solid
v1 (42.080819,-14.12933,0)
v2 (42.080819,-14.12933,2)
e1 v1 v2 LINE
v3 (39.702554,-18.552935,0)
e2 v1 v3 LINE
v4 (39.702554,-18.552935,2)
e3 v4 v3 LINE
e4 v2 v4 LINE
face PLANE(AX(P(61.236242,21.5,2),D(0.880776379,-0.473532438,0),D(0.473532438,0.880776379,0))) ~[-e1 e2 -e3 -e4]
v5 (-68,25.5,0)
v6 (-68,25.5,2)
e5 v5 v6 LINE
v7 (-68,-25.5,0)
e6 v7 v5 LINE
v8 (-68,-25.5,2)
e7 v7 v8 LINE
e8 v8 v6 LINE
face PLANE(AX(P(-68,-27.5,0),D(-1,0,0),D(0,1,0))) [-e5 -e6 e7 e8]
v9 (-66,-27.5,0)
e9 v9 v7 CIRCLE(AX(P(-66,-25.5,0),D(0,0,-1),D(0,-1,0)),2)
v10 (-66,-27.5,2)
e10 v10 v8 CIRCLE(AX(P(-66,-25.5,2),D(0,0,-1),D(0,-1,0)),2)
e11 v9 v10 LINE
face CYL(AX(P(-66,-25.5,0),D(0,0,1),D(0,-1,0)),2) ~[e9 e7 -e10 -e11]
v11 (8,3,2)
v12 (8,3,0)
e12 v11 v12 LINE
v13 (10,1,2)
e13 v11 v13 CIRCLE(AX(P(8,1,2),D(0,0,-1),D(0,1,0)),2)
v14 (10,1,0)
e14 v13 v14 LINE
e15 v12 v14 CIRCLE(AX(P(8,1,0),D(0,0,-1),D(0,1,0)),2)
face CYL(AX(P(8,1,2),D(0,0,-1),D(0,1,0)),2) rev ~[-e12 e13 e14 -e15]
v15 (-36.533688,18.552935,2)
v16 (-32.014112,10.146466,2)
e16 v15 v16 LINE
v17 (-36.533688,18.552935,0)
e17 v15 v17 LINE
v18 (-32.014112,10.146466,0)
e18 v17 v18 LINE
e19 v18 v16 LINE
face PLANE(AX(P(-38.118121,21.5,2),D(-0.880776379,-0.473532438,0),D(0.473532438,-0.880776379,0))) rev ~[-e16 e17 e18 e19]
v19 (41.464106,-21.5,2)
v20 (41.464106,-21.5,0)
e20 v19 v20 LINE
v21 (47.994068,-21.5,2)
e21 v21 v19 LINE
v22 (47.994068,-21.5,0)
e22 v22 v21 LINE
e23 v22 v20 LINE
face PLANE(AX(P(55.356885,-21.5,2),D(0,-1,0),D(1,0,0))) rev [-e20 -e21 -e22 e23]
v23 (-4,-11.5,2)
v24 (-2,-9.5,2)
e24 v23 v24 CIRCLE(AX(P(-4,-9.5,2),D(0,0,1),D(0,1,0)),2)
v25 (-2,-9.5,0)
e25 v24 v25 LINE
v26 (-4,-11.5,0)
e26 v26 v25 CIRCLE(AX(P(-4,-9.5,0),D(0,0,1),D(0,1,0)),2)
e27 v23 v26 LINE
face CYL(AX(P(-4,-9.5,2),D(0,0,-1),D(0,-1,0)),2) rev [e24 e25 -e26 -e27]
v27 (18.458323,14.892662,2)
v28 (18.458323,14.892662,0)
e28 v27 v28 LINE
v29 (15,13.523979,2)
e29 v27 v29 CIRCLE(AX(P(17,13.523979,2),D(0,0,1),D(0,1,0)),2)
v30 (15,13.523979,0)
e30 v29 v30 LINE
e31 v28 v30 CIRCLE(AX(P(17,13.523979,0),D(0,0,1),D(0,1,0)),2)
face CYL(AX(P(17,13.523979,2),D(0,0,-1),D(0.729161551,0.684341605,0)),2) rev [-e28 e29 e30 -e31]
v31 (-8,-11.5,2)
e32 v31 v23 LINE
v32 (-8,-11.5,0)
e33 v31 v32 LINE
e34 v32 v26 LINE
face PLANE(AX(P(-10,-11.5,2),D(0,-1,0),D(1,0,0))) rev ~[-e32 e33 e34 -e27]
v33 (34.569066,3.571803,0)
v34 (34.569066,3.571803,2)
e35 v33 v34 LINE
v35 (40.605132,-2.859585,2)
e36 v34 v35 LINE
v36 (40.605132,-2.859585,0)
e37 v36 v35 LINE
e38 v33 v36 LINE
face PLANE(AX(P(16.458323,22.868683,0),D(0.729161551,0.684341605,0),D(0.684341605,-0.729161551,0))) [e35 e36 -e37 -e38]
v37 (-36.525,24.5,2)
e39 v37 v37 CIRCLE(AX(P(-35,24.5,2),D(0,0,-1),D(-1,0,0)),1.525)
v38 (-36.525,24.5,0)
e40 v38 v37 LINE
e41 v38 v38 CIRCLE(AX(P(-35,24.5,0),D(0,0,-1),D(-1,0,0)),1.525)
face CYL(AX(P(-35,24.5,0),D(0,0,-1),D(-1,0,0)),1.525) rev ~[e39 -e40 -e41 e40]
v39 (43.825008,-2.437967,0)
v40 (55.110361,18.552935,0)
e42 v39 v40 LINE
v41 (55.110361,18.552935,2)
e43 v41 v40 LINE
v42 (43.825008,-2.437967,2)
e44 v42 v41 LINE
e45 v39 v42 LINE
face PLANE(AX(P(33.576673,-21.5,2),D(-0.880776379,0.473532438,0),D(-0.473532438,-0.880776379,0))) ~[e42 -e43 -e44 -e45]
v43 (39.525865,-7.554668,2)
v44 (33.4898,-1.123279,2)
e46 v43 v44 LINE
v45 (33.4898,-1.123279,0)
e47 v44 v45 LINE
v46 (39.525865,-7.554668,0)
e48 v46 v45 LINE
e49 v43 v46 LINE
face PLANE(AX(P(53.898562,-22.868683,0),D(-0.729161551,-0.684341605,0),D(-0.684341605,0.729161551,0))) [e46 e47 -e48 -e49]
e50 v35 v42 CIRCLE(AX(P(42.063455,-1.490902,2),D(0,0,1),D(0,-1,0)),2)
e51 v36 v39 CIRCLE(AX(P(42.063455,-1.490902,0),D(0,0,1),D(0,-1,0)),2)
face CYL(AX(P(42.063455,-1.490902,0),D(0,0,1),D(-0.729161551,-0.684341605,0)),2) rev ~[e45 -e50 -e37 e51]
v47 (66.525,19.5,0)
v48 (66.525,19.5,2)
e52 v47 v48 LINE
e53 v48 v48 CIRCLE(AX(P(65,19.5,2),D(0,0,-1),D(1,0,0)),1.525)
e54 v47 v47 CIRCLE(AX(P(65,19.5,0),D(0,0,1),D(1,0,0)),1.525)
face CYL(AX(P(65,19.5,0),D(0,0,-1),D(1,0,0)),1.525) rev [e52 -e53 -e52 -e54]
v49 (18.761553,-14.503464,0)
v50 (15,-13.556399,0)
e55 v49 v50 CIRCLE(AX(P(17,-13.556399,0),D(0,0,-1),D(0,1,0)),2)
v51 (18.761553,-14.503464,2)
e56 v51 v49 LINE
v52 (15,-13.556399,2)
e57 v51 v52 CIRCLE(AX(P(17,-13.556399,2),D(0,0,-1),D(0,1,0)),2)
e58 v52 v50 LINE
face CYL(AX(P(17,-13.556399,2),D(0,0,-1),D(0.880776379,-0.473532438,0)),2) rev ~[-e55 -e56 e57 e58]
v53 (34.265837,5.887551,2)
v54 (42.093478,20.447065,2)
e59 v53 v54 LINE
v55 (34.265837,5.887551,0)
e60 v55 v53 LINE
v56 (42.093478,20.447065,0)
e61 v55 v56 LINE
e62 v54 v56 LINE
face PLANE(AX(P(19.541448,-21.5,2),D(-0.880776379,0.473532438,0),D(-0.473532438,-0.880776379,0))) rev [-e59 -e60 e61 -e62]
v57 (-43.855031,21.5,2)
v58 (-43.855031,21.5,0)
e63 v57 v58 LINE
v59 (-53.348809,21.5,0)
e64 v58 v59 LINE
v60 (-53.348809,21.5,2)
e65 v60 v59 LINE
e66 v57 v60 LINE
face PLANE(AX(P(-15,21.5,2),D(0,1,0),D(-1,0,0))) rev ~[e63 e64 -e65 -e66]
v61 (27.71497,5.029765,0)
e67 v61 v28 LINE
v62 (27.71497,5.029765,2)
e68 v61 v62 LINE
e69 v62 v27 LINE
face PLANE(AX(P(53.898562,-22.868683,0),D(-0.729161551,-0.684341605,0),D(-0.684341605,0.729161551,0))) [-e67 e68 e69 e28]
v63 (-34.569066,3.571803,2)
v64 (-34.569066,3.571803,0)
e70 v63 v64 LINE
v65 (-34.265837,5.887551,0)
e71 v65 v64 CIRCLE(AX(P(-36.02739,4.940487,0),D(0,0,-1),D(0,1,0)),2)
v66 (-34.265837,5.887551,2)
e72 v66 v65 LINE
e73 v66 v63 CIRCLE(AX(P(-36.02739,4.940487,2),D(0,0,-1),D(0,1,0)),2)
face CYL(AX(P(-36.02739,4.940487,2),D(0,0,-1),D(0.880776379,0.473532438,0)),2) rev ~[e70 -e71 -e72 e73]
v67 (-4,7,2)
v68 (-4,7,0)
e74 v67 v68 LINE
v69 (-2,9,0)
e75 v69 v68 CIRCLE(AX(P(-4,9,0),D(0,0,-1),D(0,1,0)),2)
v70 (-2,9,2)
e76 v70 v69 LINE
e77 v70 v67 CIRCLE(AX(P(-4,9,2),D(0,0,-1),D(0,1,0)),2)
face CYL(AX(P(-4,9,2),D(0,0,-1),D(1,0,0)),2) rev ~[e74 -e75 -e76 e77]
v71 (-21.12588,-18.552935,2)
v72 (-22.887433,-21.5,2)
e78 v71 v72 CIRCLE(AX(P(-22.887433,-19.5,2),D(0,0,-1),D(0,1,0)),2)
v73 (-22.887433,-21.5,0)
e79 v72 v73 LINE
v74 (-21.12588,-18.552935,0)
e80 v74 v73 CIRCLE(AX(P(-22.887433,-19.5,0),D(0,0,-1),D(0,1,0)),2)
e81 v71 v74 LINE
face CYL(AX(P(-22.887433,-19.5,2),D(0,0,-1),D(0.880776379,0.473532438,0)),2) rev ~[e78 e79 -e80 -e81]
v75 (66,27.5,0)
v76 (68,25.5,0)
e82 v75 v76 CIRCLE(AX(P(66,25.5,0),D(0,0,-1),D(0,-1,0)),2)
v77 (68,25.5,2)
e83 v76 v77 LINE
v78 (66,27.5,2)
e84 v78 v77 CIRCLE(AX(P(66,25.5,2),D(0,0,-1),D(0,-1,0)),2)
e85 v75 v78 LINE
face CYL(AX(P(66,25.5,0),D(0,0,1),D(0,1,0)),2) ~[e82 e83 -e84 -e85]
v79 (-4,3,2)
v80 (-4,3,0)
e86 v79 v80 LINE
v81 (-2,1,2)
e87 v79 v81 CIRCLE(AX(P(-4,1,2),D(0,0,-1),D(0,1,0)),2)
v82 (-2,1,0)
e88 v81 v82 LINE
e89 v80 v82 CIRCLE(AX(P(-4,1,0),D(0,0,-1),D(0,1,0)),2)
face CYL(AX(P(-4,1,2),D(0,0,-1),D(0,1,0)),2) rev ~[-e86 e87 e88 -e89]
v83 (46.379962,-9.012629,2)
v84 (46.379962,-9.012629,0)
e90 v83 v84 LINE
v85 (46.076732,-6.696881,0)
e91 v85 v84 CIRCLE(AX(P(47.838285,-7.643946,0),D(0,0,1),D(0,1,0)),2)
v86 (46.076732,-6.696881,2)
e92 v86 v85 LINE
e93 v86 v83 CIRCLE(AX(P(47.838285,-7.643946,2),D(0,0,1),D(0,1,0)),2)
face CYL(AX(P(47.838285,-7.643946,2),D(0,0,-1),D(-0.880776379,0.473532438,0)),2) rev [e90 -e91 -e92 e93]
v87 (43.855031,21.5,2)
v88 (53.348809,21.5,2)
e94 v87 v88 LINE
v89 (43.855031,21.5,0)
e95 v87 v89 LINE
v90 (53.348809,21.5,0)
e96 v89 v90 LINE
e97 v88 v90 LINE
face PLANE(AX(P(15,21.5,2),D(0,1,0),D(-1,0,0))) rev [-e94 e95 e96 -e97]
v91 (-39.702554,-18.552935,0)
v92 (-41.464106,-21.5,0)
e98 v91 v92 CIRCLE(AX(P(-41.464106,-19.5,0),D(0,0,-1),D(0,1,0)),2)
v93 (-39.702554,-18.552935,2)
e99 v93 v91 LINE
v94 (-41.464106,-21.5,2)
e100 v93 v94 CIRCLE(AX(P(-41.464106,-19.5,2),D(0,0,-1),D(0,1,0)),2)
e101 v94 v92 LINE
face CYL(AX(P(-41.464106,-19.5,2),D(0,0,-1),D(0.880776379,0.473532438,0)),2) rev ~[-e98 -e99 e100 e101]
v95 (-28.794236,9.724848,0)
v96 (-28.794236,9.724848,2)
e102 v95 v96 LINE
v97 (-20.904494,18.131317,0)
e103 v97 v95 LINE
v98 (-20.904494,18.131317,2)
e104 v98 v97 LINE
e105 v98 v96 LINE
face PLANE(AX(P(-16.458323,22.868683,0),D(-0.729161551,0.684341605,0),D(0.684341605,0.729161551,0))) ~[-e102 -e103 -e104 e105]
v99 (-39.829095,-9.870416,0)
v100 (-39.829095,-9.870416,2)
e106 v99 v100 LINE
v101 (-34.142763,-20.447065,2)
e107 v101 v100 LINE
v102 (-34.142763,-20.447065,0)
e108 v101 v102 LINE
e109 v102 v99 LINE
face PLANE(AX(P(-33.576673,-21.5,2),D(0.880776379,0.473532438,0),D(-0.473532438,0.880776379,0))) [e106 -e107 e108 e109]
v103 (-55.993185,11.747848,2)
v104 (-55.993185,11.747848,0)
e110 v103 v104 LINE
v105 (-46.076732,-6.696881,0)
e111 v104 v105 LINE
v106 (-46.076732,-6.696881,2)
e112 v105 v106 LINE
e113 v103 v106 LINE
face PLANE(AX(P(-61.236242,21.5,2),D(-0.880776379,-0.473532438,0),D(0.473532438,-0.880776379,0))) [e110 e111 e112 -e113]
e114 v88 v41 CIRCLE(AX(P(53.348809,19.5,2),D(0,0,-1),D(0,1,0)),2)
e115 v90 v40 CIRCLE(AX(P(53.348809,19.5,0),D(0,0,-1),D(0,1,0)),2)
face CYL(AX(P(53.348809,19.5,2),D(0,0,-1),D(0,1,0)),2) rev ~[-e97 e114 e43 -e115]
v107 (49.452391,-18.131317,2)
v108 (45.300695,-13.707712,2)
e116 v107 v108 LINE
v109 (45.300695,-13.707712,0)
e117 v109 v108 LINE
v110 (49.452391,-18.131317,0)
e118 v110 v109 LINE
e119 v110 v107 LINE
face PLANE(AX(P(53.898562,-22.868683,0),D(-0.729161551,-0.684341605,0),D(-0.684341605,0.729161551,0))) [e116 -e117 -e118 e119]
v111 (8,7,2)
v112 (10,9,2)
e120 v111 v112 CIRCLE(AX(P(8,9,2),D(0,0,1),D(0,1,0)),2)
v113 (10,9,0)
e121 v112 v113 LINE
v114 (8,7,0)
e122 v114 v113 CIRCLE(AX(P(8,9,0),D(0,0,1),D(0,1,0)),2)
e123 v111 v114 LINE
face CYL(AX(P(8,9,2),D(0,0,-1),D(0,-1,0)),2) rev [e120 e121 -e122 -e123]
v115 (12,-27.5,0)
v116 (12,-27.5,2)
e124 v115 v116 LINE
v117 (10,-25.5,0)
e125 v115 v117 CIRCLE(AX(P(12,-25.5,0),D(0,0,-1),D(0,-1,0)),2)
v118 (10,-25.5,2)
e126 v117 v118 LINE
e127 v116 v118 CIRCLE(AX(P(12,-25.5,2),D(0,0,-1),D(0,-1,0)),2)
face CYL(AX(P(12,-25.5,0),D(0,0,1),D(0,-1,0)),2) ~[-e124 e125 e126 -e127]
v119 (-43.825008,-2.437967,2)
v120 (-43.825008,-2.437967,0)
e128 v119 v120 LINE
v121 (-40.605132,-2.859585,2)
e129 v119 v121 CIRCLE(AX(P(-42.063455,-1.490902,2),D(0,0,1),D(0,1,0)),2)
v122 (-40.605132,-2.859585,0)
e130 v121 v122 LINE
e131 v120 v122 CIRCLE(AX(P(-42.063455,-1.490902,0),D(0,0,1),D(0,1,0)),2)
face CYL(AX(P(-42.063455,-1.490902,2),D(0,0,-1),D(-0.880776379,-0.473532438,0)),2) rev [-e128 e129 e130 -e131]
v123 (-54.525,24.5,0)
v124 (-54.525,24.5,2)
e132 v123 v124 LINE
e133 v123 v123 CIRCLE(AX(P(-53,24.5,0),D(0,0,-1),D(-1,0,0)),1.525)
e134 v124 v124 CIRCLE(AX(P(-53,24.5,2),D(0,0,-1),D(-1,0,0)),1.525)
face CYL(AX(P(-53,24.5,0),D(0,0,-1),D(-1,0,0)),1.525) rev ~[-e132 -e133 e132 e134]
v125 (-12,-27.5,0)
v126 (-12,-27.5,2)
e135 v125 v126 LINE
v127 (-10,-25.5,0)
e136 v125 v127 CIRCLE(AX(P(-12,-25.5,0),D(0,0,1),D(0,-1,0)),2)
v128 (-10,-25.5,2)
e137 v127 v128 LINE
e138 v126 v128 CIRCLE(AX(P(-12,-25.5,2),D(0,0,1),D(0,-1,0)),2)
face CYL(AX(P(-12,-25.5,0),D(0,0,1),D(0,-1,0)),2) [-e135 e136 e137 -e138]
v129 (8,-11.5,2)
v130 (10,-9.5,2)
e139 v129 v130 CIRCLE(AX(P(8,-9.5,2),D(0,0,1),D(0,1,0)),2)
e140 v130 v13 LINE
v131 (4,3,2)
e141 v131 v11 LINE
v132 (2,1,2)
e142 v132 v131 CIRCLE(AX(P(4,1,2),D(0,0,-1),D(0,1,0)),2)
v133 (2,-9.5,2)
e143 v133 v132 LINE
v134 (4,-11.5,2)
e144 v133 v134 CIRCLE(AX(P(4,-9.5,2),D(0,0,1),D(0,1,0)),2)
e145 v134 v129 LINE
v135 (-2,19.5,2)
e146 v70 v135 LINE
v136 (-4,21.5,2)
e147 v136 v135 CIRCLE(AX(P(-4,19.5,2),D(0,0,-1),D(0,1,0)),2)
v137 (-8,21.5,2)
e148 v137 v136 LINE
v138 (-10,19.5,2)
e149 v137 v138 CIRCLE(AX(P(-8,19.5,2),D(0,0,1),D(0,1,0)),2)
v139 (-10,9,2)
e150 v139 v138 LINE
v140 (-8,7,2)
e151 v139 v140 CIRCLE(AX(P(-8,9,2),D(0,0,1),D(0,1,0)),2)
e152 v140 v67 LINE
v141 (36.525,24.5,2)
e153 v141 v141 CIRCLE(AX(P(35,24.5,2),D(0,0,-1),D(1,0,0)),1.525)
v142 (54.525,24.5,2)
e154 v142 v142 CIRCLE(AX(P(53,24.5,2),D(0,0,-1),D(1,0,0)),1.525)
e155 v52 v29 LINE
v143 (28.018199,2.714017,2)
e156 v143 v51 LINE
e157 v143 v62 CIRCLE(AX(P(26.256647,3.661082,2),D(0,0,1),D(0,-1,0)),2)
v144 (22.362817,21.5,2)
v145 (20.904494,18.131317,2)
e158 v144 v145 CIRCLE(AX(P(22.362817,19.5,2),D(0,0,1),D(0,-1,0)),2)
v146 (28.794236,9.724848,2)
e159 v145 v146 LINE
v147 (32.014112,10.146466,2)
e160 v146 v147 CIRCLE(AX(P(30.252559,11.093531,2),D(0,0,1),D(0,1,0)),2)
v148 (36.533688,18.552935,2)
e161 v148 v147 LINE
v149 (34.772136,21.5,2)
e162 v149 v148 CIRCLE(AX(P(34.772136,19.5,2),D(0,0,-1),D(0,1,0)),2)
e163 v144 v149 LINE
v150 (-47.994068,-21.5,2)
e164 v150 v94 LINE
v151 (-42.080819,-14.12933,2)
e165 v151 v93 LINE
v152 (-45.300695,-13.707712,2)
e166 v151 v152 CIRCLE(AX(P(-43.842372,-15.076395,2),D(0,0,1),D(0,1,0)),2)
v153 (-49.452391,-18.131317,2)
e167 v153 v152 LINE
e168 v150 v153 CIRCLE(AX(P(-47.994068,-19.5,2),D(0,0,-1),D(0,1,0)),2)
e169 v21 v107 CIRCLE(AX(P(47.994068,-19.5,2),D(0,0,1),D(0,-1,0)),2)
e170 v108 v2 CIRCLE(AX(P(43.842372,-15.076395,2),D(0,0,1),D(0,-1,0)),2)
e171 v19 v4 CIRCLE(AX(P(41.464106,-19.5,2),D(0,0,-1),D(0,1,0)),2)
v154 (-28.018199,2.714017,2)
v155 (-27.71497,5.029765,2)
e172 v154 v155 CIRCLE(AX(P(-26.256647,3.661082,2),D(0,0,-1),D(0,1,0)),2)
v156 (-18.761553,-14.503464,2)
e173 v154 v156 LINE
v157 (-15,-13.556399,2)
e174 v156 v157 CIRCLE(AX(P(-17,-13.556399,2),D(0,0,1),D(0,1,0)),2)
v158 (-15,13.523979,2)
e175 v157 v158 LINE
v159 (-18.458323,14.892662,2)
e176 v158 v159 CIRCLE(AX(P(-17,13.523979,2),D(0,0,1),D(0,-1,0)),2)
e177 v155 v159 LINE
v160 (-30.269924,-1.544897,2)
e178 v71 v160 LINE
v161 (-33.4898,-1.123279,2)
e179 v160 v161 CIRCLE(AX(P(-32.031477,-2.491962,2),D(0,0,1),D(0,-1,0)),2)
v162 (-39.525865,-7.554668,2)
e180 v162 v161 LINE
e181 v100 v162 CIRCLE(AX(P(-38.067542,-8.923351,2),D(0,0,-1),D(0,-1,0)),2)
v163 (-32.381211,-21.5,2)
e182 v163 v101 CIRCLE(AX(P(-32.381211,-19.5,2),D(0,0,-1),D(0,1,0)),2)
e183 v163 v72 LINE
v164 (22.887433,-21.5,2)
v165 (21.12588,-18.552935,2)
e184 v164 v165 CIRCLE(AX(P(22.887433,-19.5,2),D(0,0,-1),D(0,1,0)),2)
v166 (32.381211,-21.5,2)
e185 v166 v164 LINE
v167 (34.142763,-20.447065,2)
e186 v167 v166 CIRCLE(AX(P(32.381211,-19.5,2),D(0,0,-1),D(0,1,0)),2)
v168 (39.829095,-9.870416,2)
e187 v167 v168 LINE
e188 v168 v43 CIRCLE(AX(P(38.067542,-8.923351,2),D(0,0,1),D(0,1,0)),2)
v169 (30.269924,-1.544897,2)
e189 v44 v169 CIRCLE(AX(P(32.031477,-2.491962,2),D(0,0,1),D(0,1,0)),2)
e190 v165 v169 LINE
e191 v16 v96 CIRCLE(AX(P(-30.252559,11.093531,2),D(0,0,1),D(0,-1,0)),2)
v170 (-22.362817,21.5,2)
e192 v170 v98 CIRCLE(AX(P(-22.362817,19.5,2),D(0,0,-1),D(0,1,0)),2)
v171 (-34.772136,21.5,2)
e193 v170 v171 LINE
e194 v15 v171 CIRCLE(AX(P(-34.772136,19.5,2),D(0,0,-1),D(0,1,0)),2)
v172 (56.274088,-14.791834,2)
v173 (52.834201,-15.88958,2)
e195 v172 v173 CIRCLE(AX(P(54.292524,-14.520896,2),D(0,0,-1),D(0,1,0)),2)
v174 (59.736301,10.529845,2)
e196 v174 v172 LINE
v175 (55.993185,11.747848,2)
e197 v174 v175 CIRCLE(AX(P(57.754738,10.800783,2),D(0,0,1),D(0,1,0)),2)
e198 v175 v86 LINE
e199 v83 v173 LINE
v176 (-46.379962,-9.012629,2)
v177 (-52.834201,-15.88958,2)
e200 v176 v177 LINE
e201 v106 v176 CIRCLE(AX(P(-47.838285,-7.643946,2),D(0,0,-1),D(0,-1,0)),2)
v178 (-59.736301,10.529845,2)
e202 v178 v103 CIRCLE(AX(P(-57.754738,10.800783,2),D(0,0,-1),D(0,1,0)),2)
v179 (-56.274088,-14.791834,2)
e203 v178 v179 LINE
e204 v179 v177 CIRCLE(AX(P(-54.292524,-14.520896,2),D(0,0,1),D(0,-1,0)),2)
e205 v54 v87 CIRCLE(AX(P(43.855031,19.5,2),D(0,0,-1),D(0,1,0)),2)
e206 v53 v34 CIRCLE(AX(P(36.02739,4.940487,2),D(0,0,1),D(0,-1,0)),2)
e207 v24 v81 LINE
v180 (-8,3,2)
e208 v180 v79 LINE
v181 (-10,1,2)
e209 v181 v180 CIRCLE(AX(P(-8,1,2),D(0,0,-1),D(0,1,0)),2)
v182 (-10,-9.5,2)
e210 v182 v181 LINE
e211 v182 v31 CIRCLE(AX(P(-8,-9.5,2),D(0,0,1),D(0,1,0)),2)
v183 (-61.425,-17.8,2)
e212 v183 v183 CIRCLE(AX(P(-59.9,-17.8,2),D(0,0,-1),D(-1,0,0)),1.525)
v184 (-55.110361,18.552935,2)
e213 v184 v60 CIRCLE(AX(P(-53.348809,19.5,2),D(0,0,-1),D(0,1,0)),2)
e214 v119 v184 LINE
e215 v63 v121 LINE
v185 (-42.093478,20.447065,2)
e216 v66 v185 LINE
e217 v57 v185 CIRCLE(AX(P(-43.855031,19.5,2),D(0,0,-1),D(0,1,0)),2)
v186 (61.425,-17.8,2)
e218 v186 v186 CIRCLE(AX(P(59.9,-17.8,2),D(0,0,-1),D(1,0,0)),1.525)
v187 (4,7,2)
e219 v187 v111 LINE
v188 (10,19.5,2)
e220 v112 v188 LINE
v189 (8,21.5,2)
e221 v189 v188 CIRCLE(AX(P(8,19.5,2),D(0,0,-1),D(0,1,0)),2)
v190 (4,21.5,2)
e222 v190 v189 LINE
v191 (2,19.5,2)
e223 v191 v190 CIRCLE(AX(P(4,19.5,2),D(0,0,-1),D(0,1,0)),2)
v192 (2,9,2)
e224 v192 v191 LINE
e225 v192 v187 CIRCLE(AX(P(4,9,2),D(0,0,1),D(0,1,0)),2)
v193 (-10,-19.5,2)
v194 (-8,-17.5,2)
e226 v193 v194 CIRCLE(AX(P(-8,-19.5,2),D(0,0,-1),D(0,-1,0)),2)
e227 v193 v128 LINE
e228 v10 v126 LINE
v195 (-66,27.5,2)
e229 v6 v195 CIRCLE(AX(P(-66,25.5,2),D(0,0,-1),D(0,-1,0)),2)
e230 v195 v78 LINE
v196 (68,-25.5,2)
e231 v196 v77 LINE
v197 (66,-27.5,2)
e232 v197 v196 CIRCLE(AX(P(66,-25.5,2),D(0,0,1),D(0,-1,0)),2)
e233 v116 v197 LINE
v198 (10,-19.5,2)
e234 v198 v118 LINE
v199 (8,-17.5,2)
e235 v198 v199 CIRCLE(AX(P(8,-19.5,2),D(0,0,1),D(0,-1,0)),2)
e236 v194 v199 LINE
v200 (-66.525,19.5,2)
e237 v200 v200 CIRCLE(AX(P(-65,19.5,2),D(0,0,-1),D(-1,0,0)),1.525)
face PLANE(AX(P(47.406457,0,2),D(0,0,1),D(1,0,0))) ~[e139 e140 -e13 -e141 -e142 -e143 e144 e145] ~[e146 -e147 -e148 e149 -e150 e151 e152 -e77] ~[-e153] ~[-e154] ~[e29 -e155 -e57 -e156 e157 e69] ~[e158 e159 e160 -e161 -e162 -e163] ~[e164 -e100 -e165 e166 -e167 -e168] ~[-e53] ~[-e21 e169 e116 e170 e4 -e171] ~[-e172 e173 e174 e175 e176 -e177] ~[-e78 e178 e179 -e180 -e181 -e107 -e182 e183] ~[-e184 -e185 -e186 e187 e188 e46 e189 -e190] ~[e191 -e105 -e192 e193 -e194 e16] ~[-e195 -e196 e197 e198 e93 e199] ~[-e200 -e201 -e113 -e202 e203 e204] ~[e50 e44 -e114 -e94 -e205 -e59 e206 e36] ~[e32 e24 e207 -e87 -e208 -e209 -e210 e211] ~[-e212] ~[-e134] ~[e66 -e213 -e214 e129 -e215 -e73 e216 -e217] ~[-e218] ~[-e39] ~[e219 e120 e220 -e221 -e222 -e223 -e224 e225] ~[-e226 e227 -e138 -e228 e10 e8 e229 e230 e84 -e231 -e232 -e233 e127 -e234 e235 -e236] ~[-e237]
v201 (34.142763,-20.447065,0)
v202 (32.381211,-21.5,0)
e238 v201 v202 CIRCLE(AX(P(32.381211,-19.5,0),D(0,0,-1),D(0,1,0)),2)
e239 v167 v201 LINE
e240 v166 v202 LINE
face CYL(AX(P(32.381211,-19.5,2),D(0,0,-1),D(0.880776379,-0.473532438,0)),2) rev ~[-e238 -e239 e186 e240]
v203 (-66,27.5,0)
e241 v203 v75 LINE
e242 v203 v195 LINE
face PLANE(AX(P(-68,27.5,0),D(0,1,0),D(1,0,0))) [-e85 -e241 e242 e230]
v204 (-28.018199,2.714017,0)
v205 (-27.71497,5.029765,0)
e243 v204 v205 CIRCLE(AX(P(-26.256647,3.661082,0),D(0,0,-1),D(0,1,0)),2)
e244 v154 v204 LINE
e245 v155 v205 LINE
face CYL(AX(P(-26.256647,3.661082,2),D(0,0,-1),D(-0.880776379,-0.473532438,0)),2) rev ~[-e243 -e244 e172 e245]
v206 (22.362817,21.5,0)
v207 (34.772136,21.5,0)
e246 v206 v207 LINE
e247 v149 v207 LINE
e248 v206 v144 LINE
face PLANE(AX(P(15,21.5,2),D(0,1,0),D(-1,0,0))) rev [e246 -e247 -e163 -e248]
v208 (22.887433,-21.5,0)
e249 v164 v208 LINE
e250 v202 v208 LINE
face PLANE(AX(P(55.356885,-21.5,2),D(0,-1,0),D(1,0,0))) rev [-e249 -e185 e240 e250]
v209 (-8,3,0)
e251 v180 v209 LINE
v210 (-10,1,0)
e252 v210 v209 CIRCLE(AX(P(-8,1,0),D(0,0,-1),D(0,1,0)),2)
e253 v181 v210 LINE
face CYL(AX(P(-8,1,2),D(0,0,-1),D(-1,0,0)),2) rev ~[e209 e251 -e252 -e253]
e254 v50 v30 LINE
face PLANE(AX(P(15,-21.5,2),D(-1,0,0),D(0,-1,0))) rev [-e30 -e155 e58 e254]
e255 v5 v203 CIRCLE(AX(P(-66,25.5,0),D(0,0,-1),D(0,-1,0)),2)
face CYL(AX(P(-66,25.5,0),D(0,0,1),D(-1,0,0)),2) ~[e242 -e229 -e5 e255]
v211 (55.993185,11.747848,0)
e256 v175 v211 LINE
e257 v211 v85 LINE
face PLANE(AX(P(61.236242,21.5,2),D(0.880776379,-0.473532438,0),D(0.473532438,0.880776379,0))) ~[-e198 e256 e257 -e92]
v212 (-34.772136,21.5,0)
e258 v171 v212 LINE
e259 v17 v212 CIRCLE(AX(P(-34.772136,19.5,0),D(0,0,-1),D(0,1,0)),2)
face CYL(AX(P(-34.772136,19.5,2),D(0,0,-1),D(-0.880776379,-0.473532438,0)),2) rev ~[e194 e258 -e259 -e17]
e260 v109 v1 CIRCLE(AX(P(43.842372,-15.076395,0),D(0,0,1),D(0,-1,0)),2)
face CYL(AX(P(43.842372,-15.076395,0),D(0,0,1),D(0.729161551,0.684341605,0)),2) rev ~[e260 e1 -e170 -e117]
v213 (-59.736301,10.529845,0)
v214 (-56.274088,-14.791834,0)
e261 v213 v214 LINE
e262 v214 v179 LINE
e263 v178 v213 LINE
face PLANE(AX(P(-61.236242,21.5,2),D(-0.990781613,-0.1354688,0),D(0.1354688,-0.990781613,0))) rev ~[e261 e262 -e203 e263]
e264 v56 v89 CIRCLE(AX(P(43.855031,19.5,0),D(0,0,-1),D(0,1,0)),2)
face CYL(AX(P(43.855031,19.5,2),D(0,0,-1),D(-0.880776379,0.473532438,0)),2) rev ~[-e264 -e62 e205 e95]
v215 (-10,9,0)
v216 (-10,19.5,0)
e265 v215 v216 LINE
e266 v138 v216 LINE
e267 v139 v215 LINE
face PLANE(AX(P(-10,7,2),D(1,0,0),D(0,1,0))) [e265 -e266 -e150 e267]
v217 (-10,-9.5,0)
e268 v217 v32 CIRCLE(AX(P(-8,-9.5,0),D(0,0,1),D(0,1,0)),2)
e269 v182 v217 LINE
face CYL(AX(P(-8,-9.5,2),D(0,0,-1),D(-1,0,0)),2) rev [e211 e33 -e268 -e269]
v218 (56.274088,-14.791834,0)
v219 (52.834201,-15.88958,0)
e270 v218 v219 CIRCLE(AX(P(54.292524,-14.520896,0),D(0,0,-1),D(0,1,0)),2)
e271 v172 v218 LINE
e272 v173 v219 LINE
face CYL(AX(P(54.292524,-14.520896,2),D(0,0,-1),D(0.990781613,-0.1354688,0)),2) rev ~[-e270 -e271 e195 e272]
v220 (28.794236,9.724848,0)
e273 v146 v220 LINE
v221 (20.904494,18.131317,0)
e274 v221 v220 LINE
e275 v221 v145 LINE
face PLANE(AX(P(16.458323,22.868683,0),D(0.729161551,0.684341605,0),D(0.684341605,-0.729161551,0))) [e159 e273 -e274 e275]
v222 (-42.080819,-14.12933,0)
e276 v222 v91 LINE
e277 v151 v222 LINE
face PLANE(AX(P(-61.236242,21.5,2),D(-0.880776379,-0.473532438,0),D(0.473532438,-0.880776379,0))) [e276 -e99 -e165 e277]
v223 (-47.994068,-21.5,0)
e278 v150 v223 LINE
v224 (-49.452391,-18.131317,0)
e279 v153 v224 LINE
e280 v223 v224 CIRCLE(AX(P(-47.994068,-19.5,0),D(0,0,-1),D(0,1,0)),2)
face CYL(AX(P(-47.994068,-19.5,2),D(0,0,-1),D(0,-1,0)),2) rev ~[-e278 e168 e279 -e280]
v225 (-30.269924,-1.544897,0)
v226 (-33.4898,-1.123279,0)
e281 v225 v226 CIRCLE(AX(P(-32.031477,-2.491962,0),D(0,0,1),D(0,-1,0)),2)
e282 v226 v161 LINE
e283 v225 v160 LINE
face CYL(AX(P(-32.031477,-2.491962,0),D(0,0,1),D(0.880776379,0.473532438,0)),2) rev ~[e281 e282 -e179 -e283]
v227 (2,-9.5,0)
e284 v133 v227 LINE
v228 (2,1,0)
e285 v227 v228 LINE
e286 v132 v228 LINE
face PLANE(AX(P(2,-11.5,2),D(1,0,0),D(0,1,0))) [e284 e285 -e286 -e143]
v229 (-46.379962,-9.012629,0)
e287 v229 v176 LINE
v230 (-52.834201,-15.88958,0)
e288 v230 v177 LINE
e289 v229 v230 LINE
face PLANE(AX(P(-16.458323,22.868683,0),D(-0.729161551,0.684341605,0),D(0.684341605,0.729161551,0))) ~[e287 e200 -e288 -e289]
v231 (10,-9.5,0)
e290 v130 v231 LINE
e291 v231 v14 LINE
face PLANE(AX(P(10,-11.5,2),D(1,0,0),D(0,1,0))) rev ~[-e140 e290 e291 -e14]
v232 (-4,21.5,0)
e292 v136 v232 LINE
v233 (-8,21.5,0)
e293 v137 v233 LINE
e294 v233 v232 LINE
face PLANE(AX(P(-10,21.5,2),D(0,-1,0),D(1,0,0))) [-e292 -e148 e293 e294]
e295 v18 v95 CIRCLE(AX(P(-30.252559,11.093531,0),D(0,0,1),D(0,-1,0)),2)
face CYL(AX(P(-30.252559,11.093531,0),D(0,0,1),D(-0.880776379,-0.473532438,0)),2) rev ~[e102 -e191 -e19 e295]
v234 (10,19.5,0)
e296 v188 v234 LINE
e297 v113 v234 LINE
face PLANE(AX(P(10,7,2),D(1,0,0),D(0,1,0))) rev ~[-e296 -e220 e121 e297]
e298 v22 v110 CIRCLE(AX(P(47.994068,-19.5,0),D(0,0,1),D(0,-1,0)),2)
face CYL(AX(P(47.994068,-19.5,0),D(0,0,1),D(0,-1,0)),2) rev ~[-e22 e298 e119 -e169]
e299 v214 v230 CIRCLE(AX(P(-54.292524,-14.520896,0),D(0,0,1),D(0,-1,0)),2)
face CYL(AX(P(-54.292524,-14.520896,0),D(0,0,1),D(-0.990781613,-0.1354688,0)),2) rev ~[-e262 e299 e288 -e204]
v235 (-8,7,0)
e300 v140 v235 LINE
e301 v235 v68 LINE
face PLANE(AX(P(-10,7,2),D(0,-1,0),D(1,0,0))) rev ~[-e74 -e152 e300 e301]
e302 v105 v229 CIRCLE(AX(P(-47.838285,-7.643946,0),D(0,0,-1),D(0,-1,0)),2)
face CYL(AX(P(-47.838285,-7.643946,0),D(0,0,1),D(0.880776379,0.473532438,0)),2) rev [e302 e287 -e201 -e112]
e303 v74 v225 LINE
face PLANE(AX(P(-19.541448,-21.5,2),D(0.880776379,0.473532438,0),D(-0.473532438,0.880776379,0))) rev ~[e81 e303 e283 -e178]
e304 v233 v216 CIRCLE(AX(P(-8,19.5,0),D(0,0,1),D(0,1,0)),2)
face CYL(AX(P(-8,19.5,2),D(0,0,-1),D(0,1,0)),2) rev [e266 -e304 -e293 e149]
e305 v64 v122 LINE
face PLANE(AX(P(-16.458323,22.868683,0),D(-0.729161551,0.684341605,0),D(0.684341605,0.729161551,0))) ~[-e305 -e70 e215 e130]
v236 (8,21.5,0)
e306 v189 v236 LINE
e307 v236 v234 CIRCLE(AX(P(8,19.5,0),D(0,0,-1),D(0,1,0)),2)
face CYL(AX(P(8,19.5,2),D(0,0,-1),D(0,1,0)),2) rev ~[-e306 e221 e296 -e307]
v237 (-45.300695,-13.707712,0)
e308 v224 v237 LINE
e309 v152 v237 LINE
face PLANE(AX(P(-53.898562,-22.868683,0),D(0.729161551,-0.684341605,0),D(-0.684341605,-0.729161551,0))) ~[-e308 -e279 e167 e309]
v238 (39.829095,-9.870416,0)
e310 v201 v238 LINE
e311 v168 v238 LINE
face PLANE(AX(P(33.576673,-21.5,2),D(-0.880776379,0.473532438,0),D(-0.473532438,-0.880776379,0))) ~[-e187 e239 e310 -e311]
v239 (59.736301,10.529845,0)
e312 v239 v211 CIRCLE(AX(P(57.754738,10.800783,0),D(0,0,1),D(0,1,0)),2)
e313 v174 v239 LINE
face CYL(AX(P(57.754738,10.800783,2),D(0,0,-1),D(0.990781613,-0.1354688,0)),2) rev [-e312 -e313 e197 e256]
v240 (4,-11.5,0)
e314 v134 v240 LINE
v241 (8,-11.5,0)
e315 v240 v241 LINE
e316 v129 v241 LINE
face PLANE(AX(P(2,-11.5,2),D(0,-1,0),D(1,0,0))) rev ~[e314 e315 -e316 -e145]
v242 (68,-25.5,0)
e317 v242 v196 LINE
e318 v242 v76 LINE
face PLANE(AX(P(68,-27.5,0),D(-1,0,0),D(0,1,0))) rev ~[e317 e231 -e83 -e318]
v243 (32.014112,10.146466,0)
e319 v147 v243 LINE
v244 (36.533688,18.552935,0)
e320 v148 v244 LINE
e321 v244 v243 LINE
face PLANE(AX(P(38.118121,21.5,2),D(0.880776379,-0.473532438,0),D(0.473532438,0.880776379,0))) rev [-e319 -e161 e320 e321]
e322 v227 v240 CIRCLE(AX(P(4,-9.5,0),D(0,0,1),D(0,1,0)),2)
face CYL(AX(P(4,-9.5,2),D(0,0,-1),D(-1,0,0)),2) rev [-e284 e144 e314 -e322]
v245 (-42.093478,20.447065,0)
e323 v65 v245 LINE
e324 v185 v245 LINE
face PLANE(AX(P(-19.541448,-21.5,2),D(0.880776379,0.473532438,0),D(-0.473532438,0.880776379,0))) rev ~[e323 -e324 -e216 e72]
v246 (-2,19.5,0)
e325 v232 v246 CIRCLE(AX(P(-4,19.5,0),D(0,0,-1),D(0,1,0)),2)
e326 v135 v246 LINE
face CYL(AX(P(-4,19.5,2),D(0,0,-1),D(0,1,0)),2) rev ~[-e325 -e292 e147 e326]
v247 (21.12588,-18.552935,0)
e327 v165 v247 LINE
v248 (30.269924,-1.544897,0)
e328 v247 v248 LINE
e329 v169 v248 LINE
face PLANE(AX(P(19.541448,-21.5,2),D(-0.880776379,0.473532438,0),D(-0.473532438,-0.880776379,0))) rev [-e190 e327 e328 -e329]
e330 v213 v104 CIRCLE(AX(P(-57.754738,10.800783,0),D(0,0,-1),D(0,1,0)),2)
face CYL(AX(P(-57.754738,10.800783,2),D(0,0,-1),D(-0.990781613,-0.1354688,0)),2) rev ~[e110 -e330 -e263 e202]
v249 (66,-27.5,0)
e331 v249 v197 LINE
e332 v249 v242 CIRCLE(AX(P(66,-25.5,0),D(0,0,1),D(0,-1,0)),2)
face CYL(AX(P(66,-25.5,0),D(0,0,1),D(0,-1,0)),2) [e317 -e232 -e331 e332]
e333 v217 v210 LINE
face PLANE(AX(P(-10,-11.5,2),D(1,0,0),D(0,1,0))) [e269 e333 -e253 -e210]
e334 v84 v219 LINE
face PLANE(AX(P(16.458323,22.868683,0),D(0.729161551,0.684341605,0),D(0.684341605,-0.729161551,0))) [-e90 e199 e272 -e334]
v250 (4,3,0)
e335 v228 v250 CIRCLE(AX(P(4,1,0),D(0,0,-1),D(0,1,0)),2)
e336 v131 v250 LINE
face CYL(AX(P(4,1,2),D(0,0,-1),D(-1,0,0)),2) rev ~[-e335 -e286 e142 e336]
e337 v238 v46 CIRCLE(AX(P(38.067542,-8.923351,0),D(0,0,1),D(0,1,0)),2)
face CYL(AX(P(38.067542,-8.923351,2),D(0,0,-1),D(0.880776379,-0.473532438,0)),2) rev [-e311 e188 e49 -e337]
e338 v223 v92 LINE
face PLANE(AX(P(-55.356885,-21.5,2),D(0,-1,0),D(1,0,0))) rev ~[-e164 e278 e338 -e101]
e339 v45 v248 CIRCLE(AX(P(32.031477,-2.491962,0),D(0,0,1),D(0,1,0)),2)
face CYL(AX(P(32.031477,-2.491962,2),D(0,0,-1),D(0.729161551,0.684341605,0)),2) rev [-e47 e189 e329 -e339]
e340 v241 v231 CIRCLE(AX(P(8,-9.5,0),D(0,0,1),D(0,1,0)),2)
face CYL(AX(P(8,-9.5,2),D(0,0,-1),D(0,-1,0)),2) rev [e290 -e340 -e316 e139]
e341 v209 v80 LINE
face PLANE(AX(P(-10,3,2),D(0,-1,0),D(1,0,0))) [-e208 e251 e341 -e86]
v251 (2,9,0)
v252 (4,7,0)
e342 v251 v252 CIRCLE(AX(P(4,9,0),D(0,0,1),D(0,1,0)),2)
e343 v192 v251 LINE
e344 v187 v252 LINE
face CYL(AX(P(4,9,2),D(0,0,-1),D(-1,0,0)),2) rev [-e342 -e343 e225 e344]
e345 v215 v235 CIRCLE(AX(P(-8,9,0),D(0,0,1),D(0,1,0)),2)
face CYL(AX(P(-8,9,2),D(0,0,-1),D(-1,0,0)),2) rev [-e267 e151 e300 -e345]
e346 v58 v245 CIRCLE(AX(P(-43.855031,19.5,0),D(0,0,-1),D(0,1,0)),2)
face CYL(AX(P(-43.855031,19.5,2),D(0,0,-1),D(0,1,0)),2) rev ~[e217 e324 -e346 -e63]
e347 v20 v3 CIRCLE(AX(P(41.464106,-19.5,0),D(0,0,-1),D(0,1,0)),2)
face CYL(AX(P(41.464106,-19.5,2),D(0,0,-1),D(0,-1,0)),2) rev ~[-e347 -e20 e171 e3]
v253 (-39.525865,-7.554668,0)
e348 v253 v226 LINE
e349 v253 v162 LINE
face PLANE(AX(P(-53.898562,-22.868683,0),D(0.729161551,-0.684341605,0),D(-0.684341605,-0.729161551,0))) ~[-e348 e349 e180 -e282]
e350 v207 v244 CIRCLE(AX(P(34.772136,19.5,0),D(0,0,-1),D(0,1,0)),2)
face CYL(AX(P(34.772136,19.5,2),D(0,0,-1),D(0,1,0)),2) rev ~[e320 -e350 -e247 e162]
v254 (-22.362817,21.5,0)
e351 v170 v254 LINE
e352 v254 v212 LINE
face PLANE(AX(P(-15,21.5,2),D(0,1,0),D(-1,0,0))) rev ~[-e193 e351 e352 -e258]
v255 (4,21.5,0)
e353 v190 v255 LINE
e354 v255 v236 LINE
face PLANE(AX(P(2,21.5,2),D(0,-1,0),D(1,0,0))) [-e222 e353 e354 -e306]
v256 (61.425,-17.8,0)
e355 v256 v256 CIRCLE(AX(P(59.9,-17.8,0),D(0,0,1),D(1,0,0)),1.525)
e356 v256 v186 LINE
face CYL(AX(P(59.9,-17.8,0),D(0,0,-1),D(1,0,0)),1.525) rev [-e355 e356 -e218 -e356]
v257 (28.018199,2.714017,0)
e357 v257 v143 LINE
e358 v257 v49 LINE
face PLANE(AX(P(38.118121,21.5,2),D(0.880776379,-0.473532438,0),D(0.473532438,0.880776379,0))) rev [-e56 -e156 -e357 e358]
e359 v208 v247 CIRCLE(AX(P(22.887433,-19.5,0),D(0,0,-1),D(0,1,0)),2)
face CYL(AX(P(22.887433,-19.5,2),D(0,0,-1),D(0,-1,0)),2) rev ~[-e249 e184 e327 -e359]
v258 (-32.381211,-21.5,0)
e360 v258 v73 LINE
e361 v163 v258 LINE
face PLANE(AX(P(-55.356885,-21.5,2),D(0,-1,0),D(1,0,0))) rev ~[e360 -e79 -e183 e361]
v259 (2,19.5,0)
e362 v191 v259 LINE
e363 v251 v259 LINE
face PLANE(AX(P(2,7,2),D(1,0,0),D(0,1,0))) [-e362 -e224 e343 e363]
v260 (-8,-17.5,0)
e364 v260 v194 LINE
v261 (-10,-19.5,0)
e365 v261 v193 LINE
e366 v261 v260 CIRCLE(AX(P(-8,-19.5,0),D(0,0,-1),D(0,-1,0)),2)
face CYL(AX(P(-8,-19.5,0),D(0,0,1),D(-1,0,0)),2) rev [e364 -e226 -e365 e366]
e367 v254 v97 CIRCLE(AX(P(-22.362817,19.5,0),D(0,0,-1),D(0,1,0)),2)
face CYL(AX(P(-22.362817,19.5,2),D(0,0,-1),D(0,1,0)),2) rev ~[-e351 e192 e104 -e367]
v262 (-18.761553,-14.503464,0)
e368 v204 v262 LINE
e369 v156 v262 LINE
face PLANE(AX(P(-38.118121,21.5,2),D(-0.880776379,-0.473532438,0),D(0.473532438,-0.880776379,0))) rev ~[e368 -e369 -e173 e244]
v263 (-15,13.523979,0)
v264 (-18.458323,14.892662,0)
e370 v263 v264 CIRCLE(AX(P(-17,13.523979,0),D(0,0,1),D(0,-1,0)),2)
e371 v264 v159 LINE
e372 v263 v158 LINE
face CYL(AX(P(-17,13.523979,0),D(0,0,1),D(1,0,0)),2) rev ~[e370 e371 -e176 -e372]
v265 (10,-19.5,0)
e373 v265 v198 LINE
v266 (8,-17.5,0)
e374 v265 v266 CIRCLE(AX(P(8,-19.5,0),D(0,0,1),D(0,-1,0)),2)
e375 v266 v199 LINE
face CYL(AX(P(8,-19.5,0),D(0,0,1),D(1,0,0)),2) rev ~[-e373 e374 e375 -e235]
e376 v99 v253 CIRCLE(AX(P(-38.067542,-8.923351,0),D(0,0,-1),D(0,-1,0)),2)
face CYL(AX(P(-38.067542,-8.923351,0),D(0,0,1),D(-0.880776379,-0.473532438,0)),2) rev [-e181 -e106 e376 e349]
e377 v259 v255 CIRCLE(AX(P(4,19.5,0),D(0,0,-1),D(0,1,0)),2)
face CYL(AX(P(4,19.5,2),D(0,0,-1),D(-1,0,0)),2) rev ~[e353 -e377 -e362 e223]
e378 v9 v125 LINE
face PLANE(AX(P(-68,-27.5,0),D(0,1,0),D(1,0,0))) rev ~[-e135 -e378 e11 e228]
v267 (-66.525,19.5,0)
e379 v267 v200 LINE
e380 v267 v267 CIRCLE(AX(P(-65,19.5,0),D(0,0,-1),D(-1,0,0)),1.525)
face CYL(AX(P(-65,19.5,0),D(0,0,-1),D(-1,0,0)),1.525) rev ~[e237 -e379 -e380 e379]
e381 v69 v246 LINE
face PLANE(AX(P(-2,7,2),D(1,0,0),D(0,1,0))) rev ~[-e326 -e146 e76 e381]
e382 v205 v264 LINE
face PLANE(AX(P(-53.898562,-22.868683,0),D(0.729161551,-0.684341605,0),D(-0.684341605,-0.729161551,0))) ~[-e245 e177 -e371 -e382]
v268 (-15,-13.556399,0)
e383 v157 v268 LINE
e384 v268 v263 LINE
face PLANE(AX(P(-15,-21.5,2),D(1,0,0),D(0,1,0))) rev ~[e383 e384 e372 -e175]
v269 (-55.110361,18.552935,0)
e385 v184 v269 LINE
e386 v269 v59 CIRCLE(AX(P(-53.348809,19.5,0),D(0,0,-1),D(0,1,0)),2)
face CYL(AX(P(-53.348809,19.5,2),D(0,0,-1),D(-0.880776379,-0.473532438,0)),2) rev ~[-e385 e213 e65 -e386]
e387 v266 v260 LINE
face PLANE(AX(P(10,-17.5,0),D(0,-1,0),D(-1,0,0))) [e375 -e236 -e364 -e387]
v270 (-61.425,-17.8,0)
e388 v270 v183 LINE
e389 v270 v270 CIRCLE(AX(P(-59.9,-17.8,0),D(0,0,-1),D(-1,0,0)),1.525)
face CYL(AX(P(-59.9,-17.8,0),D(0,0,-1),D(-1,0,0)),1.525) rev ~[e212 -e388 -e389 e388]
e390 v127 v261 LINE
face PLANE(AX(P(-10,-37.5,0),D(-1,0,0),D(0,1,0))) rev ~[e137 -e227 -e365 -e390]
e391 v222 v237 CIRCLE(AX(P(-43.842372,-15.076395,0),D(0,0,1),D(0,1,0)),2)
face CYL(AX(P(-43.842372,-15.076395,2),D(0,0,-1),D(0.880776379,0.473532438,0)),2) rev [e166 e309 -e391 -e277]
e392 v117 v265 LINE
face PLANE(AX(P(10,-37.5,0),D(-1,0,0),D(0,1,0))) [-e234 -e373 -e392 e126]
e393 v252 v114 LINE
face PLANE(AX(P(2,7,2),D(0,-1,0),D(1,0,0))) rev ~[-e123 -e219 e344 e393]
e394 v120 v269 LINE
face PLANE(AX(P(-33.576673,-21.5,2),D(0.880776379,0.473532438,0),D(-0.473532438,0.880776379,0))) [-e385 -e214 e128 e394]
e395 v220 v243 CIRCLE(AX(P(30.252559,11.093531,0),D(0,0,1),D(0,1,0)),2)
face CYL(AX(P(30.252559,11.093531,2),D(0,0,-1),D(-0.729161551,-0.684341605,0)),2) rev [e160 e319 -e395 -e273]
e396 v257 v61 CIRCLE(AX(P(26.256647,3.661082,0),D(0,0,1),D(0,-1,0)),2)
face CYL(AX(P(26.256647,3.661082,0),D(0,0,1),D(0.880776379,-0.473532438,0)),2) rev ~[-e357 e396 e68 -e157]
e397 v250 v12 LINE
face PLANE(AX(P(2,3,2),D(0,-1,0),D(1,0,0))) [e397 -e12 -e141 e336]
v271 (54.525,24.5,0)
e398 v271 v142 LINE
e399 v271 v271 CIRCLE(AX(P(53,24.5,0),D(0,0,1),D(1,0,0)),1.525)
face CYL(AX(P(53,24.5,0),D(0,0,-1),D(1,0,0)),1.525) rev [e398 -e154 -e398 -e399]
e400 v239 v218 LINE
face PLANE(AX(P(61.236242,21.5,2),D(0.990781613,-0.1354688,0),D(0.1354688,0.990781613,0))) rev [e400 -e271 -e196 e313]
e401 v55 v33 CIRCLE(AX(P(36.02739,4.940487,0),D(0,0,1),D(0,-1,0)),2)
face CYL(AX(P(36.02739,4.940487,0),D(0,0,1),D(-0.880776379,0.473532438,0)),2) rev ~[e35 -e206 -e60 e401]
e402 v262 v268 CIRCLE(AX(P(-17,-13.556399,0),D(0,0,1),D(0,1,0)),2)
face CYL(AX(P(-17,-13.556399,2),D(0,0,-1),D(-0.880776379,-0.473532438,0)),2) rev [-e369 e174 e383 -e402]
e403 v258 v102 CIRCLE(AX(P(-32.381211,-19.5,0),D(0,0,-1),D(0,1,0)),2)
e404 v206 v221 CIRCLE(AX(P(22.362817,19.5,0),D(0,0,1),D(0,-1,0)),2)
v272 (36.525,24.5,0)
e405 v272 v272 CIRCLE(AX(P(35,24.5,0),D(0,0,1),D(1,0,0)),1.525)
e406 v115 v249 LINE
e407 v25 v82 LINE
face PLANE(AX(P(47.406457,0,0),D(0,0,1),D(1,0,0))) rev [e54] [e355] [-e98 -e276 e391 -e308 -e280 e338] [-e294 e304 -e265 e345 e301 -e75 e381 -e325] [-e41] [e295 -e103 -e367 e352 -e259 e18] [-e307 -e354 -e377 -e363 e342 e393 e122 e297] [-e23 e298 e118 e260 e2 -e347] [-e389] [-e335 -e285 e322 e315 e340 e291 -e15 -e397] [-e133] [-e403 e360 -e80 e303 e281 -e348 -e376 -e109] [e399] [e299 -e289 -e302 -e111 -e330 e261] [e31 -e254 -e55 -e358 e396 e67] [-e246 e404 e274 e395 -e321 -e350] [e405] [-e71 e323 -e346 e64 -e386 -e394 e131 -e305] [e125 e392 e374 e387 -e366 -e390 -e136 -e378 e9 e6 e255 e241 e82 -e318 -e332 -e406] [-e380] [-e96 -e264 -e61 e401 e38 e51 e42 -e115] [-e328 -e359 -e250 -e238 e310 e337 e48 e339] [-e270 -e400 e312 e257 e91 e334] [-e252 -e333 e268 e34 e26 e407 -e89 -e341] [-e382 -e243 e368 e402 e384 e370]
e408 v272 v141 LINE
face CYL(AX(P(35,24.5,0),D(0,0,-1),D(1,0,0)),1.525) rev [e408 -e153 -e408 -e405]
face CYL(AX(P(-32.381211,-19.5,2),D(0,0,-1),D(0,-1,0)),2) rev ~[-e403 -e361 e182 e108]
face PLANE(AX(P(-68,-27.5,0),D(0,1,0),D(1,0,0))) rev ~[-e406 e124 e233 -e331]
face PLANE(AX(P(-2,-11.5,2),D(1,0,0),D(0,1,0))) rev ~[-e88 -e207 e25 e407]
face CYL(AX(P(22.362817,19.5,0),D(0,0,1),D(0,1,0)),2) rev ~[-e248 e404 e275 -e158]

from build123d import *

# Parameters (mm, degrees)
SKETCH_1_W          = 136
SKETCH_1_H          = 55
EXTRUDE_1_DEPTH     = 2
SKETCH_2_R          = 1.525
CUT_EXTRUDE_1_DEPTH = 10
SKETCH_3_W          = 20
SKETCH_3_H          = 20
CUT_EXTRUDE_2_DEPTH = 22
FILLET_1_R          = 2
CUT_EXTRUDE_3_DEPTH = 22
EXTRUDE_2_DEPTH     = 2
SKETCH_6_W          = 8
SKETCH_6_H          = 14.5
CUT_EXTRUDE_4_DEPTH = 2
EXTRUDE_3_DEPTH     = 2
FILLET_2_R          = 2
FILLET_3_R          = 2
SKETCH_8_R          = 1.525
CUT_EXTRUDE_5_DEPTH = 10


with BuildPart() as part:
    # 草图1 → 凸台-拉伸1 (new body)
    with BuildSketch(Plane.XY):
        Rectangle(SKETCH_1_W, SKETCH_1_H)
    extrude(amount=EXTRUDE_1_DEPTH)

    # 草图2 → 切除-拉伸1 (cut)
    with BuildSketch(Plane(origin=(0, 0, 0), x_dir=(-1, 0, 0), z_dir=(0, 0, -1))):
        with Locations((59.9, -17.8)):
            Circle(SKETCH_2_R)
        with Locations((65, 19.5)):
            Circle(SKETCH_2_R)
    cut_extrude_1 = extrude(amount=-CUT_EXTRUDE_1_DEPTH, mode=Mode.SUBTRACT)

    # 镜向1: 切除-拉伸1 across plane
    add(cut_extrude_1.mirror(Plane(origin=(0, 0, 0), x_dir=(0, 0, 1), z_dir=(1, 0, 0))), mode=Mode.SUBTRACT)

    # 草图3 → 切除-拉伸2 (cut)
    with BuildSketch(Plane(origin=(0, 0, 0), x_dir=(-1, 0, 0), z_dir=(0, 0, -1))):
        with Locations((0, -27.5)):
            Rectangle(SKETCH_3_W, SKETCH_3_H)
    extrude(amount=-CUT_EXTRUDE_2_DEPTH, mode=Mode.SUBTRACT)

    # 圆角1
    fillet_1_edges = [part.edges().sort_by_distance(p)[0] for p in [
        (10, -27.5, 1),
        (10, -17.5, 1),
        (-10, -27.5, 1),
        (-10, -17.5, 1),
    ]]
    fillet(fillet_1_edges, radius=FILLET_1_R)

    # 草图4 → 切除-拉伸3 (cut)
    with BuildSketch(Plane.XY.offset(2)):
        Polygon((-61.236241819, 21.5), (-55.356885251, -21.5), (-15, -21.5), (-15, 21.5), align=None)
    cut_extrude_3 = extrude(amount=-CUT_EXTRUDE_3_DEPTH, mode=Mode.SUBTRACT)

    # 草图5 → 凸台-拉伸2 (add)
    with BuildSketch(Plane.XY.offset(2)):
        Polygon((-61.236241819, 21.5), (-38.11812091, -21.5), (-33.576673053, -21.5), (-56.694793962, 21.5), align=None)
        Polygon((-38.11812091, 21.5), (-15, -21.5), (-19.541447857, -21.5), (-42.659568766, 21.5), align=None)
    extrude_2 = extrude(amount=-EXTRUDE_2_DEPTH)

    # 镜向3: 切除-拉伸3, 凸台-拉伸2 across plane
    add(cut_extrude_3.mirror(Plane(origin=(0, 0, 0), x_dir=(0, 0, 1), z_dir=(1, 0, 0))), mode=Mode.SUBTRACT)
    add(extrude_2.mirror(Plane(origin=(0, 0, 0), x_dir=(0, 0, 1), z_dir=(1, 0, 0))))

    # 草图6 → 切除-拉伸4 (cut)
    with BuildSketch(Plane.XY.offset(2)):
        with Locations((-6, 14.25)):
            Rectangle(SKETCH_6_W, SKETCH_6_H)
        with Locations((6, 14.25)):
            Rectangle(SKETCH_6_W, SKETCH_6_H)
        with Locations((6, -4.25)):
            Rectangle(SKETCH_6_W, SKETCH_6_H)
        with Locations((-6, -4.25)):
            Rectangle(SKETCH_6_W, SKETCH_6_H)
    extrude(amount=-CUT_EXTRUDE_4_DEPTH, mode=Mode.SUBTRACT)

    # 草图7 → 凸台-拉伸3 (add)
    with BuildSketch(Plane(origin=(0, 0, 0), x_dir=(-1, 0, 0), z_dir=(0, 0, -1))):
        with BuildLine():
            Line((-16.458323102, 22.868683211), (-56.815208352, -20.131316789))
            ThreePointArc((-56.815208352, -20.131316789), (-56.725568462, -22.958323102), (-53.898562149, -22.868683211))
            Line((-53.898562149, -22.868683211), (-13.541676898, 20.131316789))
            ThreePointArc((-13.541676898, 20.131316789), (-13.631316789, 22.958323102), (-16.458323102, 22.868683211))
        make_face()
    extrude_3 = extrude(amount=-EXTRUDE_3_DEPTH)

    # 镜向4: 凸台-拉伸3 across plane
    add(extrude_3.mirror(Plane(origin=(0, 0, 0), x_dir=(0, 0, 1), z_dir=(1, 0, 0))))

    # 圆角2
    fillet_2_edges = [part.edges().sort_by_distance(p)[0] for p in [
        (-38.11812091, -21.5, 1),
        (-33.576673053, -21.5, 1),
        (-56.694793962, 21.5, 1),
        (-19.541447857, -21.5, 1),
        (-38.11812091, 21.5, 1),
        (-42.659568766, 21.5, 1),
        (61.236241819, 21.5, 1),
        (15, -21.5, 1),
        (56.694793962, 21.5, 1),
        (38.11812091, -21.5, 1),
        (33.576673053, -21.5, 1),
        (38.11812091, 21.5, 1),
        (42.659568766, 21.5, 1),
        (19.541447857, -21.5, 1),
        (-2, 3, 1),
        (-2, -11.5, 1),
        (-10, -11.5, 1),
        (-10, 3, 1),
        (2, -11.5, 1),
        (10, -11.5, 1),
        (10, 3, 1),
        (2, 3, 1),
        (2, 7, 1),
        (10, 7, 1),
        (10, 21.5, 1),
        (2, 21.5, 1),
        (-2, 7, 1),
        (-2, 21.5, 1),
        (-10, 21.5, 1),
        (-10, 7, 1),
        (30.69728876, 7.697157473, 1),
        (28.699332342, 3.980933031, 1),
        (52.614008864, -21.5, 1),
        (43.397642893, -11.680021717, 1),
        (40.510227812, -8.603499639, 1),
        (15, 18.577482964, 1),
        (55.705666805, -18.949107453, 1),
        (45.39559931, -7.963797276, 1),
        (42.50818423, -4.887275198, 1),
        (17.742876387, 21.5, 1),
        (31.586747423, 0.904410953, 1),
        (33.58470384, 4.620635395, 1),
        (-30.69728876, 7.697157473, 1),
        (-28.699332342, 3.980933031, 1),
        (-52.614008864, -21.5, 1),
        (-15, 18.577482964, 1),
        (-43.397642893, -11.680021717, 1),
        (-40.510227812, -8.603499639, 1),
        (-31.586747423, 0.904410953, 1),
        (-17.742876387, 21.5, 1),
        (-55.705666805, -18.949107453, 1),
        (-45.39559931, -7.963797276, 1),
        (-42.50818423, -4.887275198, 1),
        (-33.58470384, 4.620635395, 1),
        (-61.236241819, 21.5, 1),
        (-15, -21.5, 1),
    ]]
    fillet(fillet_2_edges, radius=FILLET_2_R)

    # 圆角3
    fillet_3_edges = [part.edges().sort_by_distance(p)[0] for p in [
        (68, -27.5, 1),
        (-68, -27.5, 1),
        (-68, 27.5, 1),
        (68, 27.5, 1),
    ]]
    fillet(fillet_3_edges, radius=FILLET_3_R)

    # 草图8 → 切除-拉伸5 (cut)
    with BuildSketch(Plane(origin=(0, 0, 0), x_dir=(-1, 0, 0), z_dir=(0, 0, -1))):
        with Locations((53, 24.5)):
            Circle(SKETCH_8_R)
        with Locations((35, 24.5)):
            Circle(SKETCH_8_R)
    cut_extrude_5 = extrude(amount=-CUT_EXTRUDE_5_DEPTH, mode=Mode.SUBTRACT)

    # 镜向5: 切除-拉伸5 across plane
    add(cut_extrude_5.mirror(Plane(origin=(0, 0, 0), x_dir=(0, 0, 1), z_dir=(1, 0, 0))), mode=Mode.SUBTRACT)


solid = part.part
